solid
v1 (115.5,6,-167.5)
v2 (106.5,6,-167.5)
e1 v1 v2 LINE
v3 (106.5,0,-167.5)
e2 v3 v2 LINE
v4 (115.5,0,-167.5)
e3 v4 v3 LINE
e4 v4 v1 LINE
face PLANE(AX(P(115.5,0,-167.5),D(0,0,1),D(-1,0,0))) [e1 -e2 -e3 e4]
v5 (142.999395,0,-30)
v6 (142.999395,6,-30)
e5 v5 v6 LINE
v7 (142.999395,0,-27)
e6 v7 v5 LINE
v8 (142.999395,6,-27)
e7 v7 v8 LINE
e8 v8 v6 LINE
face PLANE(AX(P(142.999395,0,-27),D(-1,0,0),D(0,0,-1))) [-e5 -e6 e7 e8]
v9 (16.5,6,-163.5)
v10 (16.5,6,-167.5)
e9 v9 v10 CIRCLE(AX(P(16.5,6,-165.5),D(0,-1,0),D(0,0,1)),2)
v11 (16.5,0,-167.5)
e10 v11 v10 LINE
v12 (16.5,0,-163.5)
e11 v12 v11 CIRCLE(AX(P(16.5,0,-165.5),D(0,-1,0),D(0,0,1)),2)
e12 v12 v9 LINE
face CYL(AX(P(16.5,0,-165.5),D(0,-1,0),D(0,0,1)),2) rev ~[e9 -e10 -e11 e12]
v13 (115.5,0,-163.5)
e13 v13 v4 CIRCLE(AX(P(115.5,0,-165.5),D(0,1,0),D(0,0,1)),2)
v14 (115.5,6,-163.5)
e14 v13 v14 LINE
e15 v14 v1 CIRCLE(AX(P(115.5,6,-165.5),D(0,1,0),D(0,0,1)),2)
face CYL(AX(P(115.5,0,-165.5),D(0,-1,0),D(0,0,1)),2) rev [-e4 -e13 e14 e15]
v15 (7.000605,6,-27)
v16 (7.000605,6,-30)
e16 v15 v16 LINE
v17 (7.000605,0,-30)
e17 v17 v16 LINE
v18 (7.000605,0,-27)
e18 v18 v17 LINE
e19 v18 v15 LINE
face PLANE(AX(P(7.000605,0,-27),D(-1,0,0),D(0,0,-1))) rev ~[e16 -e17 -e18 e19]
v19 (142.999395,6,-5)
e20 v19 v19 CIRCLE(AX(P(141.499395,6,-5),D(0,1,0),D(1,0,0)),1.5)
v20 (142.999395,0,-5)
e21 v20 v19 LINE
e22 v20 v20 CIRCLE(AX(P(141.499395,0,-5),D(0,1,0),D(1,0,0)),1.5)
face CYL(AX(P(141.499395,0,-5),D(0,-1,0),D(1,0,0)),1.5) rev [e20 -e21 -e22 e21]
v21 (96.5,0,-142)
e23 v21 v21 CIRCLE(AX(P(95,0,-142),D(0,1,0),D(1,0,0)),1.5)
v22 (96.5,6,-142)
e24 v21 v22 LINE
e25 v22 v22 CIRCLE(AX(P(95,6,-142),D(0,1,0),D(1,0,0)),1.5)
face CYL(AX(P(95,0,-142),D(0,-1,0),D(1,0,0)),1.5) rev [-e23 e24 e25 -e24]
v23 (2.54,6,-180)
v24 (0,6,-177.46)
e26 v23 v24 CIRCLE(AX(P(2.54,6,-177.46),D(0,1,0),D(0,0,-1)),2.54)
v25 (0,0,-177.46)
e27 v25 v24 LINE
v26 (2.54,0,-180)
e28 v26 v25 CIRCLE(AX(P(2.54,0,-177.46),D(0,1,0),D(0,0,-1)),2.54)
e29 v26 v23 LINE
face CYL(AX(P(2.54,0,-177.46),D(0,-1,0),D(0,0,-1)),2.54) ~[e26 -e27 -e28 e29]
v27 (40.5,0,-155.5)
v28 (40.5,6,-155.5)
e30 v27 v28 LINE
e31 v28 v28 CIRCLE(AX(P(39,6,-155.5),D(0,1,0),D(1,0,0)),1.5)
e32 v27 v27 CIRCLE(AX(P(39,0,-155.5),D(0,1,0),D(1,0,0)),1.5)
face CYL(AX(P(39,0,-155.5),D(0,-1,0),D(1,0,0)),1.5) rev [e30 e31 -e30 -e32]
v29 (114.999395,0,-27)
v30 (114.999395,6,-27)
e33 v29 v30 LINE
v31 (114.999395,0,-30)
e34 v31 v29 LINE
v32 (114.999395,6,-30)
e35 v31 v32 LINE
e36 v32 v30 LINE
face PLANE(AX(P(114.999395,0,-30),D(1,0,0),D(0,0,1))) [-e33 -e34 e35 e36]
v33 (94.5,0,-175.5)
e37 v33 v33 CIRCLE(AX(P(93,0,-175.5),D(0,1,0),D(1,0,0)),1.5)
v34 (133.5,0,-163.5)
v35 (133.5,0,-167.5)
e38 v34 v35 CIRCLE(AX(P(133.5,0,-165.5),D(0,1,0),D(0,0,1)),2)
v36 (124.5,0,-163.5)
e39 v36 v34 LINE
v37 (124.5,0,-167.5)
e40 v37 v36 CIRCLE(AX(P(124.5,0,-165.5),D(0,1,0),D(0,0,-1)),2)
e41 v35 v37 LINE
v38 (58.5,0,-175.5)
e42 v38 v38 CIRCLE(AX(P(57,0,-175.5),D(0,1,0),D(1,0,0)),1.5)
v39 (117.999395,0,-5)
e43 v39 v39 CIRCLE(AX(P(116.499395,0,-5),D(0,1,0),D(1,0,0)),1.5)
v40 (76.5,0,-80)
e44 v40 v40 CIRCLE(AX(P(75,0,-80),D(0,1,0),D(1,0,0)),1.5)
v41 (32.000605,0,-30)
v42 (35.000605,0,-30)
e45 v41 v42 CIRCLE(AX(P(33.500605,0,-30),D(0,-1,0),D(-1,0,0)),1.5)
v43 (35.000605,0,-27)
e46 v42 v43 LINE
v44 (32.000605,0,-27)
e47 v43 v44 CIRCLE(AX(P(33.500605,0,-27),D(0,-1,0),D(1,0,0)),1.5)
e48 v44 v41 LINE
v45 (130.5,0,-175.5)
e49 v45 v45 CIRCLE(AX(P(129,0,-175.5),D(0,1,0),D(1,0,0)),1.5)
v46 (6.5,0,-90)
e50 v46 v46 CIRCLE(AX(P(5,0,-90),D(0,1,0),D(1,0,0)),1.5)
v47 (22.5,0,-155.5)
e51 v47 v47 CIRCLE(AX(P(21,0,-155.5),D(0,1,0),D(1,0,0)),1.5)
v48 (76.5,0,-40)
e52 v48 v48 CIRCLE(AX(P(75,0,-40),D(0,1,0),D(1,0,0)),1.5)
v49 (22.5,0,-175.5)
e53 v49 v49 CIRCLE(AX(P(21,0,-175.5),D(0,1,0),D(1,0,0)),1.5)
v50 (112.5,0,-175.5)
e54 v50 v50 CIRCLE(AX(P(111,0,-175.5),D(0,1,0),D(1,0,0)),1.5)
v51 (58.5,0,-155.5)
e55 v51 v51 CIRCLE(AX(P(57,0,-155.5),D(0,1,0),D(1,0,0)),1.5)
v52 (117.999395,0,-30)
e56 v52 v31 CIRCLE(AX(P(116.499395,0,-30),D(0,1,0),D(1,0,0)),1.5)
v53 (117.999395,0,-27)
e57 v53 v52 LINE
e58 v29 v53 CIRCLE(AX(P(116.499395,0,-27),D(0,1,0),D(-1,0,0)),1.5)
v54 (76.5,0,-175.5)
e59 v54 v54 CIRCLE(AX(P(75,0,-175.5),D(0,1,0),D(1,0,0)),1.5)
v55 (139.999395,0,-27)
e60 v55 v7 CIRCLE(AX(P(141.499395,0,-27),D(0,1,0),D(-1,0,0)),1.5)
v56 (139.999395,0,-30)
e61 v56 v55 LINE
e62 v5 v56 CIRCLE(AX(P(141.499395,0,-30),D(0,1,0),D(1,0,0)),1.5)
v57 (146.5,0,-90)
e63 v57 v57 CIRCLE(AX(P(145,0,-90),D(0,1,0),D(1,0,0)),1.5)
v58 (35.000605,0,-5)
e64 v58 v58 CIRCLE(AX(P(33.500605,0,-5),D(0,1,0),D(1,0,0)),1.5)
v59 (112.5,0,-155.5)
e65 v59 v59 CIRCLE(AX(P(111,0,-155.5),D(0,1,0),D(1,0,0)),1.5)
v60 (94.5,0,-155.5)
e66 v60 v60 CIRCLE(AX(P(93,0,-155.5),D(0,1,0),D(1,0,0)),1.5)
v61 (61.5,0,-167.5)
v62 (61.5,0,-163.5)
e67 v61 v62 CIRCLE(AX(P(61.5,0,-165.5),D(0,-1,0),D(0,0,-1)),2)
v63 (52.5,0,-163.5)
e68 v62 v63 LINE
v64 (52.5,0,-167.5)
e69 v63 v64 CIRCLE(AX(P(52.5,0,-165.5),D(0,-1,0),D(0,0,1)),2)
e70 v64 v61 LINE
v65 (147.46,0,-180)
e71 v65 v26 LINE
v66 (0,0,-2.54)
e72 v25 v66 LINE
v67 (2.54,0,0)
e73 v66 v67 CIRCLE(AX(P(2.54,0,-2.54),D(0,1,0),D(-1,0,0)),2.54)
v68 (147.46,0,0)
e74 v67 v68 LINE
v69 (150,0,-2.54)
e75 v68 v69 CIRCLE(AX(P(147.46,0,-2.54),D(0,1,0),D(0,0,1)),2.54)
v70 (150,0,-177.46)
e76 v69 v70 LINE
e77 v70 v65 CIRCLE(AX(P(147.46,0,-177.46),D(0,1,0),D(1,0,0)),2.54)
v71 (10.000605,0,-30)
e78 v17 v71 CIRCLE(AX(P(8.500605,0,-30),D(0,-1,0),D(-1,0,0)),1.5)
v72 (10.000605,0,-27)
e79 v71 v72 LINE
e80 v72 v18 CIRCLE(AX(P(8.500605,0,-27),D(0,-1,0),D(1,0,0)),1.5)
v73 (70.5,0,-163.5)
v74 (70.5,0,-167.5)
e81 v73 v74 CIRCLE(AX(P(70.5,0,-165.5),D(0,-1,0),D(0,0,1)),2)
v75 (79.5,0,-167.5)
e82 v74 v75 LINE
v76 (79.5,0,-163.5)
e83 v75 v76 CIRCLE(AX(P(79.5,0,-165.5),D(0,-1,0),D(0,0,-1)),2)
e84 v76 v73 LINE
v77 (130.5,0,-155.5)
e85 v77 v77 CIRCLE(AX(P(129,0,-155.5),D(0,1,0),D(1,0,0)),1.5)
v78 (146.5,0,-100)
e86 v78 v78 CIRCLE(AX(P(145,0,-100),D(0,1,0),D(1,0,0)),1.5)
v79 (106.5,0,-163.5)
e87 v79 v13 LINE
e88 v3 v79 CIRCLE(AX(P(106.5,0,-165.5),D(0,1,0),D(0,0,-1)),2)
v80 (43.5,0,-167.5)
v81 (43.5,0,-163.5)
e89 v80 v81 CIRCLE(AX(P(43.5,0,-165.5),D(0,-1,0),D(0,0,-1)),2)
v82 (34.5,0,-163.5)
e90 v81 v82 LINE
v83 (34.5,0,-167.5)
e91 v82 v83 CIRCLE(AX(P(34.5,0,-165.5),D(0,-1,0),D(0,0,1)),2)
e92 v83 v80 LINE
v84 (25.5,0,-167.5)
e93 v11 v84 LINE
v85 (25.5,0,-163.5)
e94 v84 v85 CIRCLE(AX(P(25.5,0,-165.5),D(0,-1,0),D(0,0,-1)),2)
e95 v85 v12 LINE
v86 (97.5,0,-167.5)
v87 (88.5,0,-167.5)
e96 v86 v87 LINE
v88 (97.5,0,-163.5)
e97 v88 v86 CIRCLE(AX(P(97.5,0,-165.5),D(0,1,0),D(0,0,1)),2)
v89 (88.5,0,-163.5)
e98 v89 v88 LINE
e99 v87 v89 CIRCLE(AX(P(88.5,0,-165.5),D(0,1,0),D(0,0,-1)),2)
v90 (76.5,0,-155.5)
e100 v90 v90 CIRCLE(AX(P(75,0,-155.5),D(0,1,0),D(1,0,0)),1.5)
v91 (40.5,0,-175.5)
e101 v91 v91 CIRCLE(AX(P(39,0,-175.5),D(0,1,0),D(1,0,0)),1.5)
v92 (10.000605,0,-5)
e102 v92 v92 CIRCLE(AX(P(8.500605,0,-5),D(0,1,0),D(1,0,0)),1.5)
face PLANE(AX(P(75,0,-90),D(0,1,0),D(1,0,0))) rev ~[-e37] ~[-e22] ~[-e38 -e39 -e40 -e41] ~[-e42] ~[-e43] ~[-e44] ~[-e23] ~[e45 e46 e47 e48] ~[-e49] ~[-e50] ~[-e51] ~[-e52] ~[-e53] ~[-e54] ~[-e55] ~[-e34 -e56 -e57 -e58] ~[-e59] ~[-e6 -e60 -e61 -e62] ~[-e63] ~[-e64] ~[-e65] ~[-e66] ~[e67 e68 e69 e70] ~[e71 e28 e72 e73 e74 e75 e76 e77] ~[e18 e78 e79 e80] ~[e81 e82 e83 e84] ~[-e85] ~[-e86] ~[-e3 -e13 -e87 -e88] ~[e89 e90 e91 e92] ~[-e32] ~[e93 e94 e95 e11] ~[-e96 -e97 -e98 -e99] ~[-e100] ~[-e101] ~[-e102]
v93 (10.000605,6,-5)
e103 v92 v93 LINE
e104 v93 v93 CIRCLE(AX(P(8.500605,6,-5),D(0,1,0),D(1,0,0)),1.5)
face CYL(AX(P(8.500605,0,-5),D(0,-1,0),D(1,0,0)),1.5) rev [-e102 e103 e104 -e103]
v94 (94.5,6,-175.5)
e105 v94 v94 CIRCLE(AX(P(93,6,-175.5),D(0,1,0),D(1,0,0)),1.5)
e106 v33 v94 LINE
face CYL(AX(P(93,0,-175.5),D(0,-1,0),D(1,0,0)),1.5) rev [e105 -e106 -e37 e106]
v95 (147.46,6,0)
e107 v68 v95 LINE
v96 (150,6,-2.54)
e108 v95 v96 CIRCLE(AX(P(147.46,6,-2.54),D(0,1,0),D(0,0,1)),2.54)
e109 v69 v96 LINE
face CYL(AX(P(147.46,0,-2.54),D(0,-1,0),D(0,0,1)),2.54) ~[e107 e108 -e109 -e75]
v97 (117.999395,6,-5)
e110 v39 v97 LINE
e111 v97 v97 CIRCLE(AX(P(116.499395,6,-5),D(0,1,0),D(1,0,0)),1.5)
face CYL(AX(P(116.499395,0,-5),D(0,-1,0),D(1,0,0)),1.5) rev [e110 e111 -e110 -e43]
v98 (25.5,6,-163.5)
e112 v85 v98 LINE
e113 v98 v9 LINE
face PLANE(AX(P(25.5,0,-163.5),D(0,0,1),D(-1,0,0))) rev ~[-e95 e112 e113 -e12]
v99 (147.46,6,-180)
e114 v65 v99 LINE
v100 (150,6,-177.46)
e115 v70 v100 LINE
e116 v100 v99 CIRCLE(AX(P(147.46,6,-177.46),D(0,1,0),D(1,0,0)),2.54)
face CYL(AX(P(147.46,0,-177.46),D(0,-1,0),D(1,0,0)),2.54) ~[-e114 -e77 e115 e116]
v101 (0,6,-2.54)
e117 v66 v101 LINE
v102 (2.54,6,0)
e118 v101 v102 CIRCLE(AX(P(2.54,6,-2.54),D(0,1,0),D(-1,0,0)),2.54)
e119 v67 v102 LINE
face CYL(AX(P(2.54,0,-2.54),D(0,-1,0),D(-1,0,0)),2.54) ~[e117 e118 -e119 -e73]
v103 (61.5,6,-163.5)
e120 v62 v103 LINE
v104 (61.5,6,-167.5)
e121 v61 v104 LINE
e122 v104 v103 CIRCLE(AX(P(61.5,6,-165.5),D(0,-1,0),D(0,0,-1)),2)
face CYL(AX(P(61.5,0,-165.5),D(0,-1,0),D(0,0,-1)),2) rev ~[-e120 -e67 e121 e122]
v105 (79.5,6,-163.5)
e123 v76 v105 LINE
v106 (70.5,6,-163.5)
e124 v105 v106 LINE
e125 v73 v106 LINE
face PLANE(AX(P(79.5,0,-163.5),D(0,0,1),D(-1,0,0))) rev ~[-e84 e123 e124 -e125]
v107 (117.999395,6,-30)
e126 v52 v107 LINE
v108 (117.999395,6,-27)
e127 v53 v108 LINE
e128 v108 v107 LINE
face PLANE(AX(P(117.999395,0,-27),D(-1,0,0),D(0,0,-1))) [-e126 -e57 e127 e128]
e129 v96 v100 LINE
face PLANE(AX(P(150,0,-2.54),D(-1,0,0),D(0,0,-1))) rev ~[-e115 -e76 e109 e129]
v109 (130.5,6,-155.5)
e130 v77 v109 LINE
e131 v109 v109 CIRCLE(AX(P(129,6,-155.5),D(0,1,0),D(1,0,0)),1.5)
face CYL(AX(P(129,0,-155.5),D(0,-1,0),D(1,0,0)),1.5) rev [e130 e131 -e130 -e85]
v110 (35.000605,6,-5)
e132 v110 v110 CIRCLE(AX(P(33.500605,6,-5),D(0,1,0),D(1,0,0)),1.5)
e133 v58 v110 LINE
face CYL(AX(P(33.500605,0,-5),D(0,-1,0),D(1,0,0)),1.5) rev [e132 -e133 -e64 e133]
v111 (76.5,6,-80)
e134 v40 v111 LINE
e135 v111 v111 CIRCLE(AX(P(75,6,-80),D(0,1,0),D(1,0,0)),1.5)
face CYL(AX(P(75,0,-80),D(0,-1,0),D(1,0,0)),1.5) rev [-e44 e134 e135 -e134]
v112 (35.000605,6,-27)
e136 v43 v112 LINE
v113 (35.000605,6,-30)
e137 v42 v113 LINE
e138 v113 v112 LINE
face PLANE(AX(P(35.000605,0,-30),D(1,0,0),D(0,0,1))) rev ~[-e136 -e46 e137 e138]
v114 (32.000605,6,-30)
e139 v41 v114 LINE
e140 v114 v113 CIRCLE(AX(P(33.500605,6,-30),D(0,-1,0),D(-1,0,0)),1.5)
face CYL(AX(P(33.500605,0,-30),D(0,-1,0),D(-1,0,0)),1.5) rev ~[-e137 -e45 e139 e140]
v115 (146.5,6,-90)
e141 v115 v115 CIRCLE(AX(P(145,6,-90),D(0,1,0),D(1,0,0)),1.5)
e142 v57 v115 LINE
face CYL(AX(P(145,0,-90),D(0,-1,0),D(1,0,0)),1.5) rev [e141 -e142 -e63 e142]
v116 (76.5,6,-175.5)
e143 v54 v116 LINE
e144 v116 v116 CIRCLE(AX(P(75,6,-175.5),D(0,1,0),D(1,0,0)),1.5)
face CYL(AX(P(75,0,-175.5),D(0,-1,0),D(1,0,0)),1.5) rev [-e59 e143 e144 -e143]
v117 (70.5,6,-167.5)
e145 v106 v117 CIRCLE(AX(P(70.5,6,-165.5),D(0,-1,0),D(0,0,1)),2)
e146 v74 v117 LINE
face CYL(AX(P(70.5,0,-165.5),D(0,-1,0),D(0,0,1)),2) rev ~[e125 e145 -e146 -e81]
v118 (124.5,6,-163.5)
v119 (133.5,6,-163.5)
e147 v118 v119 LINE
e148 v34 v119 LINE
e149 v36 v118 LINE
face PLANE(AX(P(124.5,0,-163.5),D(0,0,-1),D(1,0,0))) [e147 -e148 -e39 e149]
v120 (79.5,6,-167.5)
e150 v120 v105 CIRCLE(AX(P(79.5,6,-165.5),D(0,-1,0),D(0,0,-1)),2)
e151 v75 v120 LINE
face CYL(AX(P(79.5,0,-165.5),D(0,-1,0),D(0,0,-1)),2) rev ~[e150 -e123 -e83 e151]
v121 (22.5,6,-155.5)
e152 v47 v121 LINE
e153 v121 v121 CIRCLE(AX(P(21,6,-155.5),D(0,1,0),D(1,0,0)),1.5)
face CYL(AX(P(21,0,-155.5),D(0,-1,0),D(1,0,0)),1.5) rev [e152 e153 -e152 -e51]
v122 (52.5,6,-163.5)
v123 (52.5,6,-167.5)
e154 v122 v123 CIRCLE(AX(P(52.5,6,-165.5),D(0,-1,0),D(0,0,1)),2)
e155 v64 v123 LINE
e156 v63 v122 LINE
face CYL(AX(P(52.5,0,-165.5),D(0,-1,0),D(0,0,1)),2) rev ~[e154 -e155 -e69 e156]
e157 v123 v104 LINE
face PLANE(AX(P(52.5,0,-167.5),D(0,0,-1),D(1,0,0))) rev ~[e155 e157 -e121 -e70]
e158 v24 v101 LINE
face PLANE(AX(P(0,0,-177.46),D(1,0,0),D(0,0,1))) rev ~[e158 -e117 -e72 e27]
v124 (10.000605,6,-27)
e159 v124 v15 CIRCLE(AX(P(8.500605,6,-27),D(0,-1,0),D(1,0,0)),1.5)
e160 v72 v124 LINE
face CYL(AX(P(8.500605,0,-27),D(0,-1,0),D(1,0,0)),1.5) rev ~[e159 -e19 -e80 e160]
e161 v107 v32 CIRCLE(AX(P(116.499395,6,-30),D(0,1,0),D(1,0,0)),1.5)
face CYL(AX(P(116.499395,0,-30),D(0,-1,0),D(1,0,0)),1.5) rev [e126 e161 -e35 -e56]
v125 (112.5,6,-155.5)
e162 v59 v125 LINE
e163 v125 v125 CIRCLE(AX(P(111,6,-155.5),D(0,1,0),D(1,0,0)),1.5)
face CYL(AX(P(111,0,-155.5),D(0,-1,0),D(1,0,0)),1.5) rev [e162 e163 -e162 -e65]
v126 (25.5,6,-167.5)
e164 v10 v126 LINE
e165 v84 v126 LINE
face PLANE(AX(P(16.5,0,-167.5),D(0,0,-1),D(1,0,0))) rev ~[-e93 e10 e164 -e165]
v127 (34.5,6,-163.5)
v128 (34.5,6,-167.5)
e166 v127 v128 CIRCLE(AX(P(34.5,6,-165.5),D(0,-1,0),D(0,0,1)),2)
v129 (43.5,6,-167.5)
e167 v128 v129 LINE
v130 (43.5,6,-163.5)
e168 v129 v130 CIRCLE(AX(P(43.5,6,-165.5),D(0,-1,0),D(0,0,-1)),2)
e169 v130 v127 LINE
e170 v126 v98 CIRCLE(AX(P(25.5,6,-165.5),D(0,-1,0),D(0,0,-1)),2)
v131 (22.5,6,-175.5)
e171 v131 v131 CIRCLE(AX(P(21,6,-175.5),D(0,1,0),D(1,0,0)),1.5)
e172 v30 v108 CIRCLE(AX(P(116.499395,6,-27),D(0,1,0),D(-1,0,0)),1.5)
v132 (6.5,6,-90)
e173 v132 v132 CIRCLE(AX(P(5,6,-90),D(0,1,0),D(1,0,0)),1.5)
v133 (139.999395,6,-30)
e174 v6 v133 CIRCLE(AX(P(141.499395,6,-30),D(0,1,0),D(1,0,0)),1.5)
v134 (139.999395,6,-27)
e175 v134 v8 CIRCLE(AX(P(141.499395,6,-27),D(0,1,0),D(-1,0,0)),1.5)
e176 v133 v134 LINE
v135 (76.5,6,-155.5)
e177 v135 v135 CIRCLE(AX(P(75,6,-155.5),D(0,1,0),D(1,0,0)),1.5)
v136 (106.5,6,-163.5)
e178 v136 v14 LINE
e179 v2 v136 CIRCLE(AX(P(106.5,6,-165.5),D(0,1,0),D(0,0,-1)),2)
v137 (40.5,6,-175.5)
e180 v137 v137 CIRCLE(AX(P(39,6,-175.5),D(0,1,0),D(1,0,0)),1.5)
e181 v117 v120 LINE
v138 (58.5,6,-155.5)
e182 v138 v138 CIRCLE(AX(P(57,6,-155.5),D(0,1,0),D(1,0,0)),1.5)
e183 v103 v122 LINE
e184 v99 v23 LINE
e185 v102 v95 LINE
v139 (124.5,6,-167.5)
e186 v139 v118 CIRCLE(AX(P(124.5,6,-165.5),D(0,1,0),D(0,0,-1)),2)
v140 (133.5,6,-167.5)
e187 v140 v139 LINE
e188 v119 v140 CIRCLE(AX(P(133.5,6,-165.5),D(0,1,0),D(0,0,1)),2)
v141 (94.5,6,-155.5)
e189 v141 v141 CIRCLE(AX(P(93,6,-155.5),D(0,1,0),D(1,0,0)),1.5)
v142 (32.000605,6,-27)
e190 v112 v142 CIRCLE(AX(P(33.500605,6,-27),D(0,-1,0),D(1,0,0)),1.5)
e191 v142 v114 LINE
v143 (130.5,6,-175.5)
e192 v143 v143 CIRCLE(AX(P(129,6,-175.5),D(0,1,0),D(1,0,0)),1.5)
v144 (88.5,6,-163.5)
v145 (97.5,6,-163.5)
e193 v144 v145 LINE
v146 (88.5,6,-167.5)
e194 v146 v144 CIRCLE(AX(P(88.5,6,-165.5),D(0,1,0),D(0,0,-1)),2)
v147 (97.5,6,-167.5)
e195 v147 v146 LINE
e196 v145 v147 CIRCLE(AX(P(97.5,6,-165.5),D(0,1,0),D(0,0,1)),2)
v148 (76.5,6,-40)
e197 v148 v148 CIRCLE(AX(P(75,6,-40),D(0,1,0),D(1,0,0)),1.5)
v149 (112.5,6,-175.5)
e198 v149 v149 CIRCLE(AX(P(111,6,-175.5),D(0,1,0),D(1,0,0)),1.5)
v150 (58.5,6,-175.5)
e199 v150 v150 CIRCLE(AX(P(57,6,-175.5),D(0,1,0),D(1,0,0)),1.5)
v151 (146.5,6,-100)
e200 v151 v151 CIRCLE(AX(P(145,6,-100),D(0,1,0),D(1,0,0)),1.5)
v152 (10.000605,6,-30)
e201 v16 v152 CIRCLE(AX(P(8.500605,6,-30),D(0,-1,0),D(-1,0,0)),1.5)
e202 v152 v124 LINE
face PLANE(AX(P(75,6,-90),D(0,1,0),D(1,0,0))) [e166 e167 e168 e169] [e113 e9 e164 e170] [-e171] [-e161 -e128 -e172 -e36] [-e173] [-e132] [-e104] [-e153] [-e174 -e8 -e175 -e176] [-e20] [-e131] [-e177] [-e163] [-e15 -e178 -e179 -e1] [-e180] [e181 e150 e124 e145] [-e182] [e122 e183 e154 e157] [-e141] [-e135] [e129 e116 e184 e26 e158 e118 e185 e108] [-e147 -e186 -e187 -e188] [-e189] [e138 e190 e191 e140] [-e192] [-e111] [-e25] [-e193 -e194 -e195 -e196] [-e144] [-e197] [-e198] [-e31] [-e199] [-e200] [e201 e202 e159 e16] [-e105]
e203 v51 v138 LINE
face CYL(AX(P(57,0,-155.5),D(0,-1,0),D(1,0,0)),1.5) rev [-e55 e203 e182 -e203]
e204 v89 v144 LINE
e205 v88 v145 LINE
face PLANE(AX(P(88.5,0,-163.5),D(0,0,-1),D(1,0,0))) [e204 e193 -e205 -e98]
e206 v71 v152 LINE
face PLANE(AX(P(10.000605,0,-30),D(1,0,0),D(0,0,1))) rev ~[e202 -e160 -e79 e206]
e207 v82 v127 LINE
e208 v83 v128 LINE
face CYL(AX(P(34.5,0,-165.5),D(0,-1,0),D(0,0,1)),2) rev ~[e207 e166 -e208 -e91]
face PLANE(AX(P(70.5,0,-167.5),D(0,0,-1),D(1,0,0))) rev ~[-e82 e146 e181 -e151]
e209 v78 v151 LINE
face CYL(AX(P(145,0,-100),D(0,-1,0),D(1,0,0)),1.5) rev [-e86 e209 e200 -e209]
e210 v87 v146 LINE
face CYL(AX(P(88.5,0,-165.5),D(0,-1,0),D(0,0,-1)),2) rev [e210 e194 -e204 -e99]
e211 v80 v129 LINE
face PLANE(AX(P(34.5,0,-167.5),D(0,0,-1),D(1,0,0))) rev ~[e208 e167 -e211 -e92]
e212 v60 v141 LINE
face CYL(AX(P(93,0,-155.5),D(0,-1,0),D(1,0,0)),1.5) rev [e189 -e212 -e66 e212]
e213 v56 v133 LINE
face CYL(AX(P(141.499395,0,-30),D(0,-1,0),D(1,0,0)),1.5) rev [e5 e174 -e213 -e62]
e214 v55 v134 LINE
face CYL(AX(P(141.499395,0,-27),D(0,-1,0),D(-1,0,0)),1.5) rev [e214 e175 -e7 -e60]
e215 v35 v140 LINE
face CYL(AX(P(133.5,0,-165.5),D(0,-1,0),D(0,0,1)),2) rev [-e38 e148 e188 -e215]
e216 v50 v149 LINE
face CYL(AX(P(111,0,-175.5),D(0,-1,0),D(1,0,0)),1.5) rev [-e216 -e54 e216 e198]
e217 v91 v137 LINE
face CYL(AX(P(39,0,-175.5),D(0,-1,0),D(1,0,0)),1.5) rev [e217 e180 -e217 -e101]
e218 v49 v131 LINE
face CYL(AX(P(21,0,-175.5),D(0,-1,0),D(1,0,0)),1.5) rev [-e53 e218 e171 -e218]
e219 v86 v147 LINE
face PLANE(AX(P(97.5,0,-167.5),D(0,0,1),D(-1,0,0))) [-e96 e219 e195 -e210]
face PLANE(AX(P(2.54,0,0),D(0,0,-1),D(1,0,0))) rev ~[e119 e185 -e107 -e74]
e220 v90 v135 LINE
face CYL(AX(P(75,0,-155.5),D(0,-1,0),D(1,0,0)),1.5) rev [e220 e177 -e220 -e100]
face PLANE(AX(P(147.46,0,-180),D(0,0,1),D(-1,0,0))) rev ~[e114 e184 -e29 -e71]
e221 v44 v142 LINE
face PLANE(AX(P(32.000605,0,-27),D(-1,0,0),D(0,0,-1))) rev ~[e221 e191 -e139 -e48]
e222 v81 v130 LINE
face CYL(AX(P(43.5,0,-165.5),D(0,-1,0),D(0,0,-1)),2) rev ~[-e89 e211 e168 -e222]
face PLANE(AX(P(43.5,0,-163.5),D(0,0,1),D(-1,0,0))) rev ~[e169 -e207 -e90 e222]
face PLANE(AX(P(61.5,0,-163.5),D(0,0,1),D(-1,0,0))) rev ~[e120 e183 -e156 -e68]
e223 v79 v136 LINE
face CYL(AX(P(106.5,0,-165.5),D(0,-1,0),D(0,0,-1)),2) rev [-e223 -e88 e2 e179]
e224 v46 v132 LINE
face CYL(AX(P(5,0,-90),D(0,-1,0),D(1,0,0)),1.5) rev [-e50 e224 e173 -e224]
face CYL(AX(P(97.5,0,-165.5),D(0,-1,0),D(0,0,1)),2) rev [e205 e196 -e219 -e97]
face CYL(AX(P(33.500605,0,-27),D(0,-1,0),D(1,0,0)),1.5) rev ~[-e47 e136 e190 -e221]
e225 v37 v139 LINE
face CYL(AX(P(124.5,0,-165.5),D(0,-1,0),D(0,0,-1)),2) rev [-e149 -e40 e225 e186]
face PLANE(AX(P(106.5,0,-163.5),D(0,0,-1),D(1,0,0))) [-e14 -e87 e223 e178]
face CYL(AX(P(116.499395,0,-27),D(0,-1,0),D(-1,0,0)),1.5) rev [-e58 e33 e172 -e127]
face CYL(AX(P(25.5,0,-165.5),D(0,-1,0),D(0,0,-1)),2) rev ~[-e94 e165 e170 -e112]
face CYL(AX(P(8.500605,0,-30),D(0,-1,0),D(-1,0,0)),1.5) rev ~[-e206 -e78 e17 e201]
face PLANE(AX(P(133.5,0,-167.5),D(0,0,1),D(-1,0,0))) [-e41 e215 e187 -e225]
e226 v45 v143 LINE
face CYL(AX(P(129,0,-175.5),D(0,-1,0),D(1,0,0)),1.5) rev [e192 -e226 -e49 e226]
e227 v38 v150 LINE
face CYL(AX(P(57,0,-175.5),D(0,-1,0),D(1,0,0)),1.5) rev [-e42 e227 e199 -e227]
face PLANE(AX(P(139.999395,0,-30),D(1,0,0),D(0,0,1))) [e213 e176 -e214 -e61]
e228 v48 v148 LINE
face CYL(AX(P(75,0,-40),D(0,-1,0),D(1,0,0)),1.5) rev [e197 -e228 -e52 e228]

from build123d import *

# Parameters (mm, degrees)
SKETCH1_R           = 1.5
BOSS_EXTRUDE1_DEPTH = 6


with BuildPart() as part:
    # Sketch1 → Boss-Extrude1 (new body)
    with BuildSketch(Plane(origin=(0, 0, 0), x_dir=(1, 0, 0), z_dir=(0, 1, 0))):
        with BuildLine():
            Line((2.54, 0), (147.46, 0))
            ThreePointArc((147.46, 0), (149.256051224, 0.743948776), (150, 2.54))
            Line((150, 2.54), (150, 177.46))
            ThreePointArc((150, 177.46), (149.256051224, 179.256051224), (147.46, 180))
            Line((147.46, 180), (2.54, 180))
            ThreePointArc((2.54, 180), (0.743948776, 179.256051224), (0, 177.46))
            Line((0, 177.46), (0, 2.54))
            ThreePointArc((0, 2.54), (0.743948776, 0.743948776), (2.54, 0))
        make_face()
        with Locations((33.500605467, 5)):
            Circle(SKETCH1_R, mode=Mode.SUBTRACT)
        with Locations((8.500605467, 5)):
            Circle(SKETCH1_R, mode=Mode.SUBTRACT)
        with Locations((141.499394533, 5)):
            Circle(SKETCH1_R, mode=Mode.SUBTRACT)
        with Locations((116.499394533, 5)):
            Circle(SKETCH1_R, mode=Mode.SUBTRACT)
        with Locations((75, 155.5)):
            Circle(SKETCH1_R, mode=Mode.SUBTRACT)
        with Locations((39, 155.5)):
            Circle(SKETCH1_R, mode=Mode.SUBTRACT)
        with Locations((21, 155.5)):
            Circle(SKETCH1_R, mode=Mode.SUBTRACT)
        with Locations((57, 155.5)):
            Circle(SKETCH1_R, mode=Mode.SUBTRACT)
        with Locations((93, 155.5)):
            Circle(SKETCH1_R, mode=Mode.SUBTRACT)
        with Locations((111, 155.5)):
            Circle(SKETCH1_R, mode=Mode.SUBTRACT)
        with Locations((129, 155.5)):
            Circle(SKETCH1_R, mode=Mode.SUBTRACT)
        with Locations((129, 175.5)):
            Circle(SKETCH1_R, mode=Mode.SUBTRACT)
        with Locations((111, 175.5)):
            Circle(SKETCH1_R, mode=Mode.SUBTRACT)
        with Locations((93, 175.5)):
            Circle(SKETCH1_R, mode=Mode.SUBTRACT)
        with Locations((75, 175.5)):
            Circle(SKETCH1_R, mode=Mode.SUBTRACT)
        with Locations((57, 175.5)):
            Circle(SKETCH1_R, mode=Mode.SUBTRACT)
        with Locations((39, 175.5)):
            Circle(SKETCH1_R, mode=Mode.SUBTRACT)
        with Locations((21, 175.5)):
            Circle(SKETCH1_R, mode=Mode.SUBTRACT)
        with Locations((145, 100)):
            Circle(SKETCH1_R, mode=Mode.SUBTRACT)
        with Locations((95, 142)):
            Circle(SKETCH1_R, mode=Mode.SUBTRACT)
        with Locations((145, 90)):
            Circle(SKETCH1_R, mode=Mode.SUBTRACT)
        with Locations((5, 90)):
            Circle(SKETCH1_R, mode=Mode.SUBTRACT)
        with Locations((75, 80)):
            Circle(SKETCH1_R, mode=Mode.SUBTRACT)
        with Locations((75, 40)):
            Circle(SKETCH1_R, mode=Mode.SUBTRACT)
        with BuildLine():
            Line((133.5, 167.5), (124.5, 167.5))
            ThreePointArc((124.5, 167.5), (122.5, 165.5), (124.5, 163.5))
            Line((124.5, 163.5), (133.5, 163.5))
            ThreePointArc((133.5, 163.5), (135.5, 165.5), (133.5, 167.5))
        make_face(mode=Mode.SUBTRACT)
        with BuildLine():
            Line((16.5, 167.5), (25.5, 167.5))
            ThreePointArc((25.5, 167.5), (27.5, 165.5), (25.5, 163.5))
            Line((25.5, 163.5), (16.5, 163.5))
            ThreePointArc((16.5, 163.5), (14.5, 165.5), (16.5, 167.5))
        make_face(mode=Mode.SUBTRACT)
        with BuildLine():
            Line((34.5, 167.5), (43.5, 167.5))
            ThreePointArc((43.5, 167.5), (45.5, 165.5), (43.5, 163.5))
            Line((43.5, 163.5), (34.5, 163.5))
            ThreePointArc((34.5, 163.5), (32.5, 165.5), (34.5, 167.5))
        make_face(mode=Mode.SUBTRACT)
        with BuildLine():
            Line((52.5, 167.5), (61.5, 167.5))
            ThreePointArc((61.5, 167.5), (63.5, 165.5), (61.5, 163.5))
            Line((61.5, 163.5), (52.5, 163.5))
            ThreePointArc((52.5, 163.5), (50.5, 165.5), (52.5, 167.5))
        make_face(mode=Mode.SUBTRACT)
        with BuildLine():
            Line((70.5, 167.5), (79.5, 167.5))
            ThreePointArc((79.5, 167.5), (81.5, 165.5), (79.5, 163.5))
            Line((79.5, 163.5), (70.5, 163.5))
            ThreePointArc((70.5, 163.5), (68.5, 165.5), (70.5, 167.5))
        make_face(mode=Mode.SUBTRACT)
        with BuildLine():
            Line((115.5, 167.5), (106.5, 167.5))
            ThreePointArc((106.5, 167.5), (104.5, 165.5), (106.5, 163.5))
            Line((106.5, 163.5), (115.5, 163.5))
            ThreePointArc((115.5, 163.5), (117.5, 165.5), (115.5, 167.5))
        make_face(mode=Mode.SUBTRACT)
        with BuildLine():
            Line((97.5, 167.5), (88.5, 167.5))
            ThreePointArc((88.5, 167.5), (86.5, 165.5), (88.5, 163.5))
            Line((88.5, 163.5), (97.5, 163.5))
            ThreePointArc((97.5, 163.5), (99.5, 165.5), (97.5, 167.5))
        make_face(mode=Mode.SUBTRACT)
        with BuildLine():
            Line((10.000605467, 30), (10.000605467, 27))
            ThreePointArc((10.000605467, 27), (8.500605467, 25.5), (7.000605467, 27))
            Line((7.000605467, 27), (7.000605467, 30))
            ThreePointArc((7.000605467, 30), (8.500605467, 31.5), (10.000605467, 30))
        make_face(mode=Mode.SUBTRACT)
        with BuildLine():
            Line((35.000605467, 30), (35.000605467, 27))
            ThreePointArc((35.000605467, 27), (33.500605467, 25.5), (32.000605467, 27))
            Line((32.000605467, 27), (32.000605467, 30))
            ThreePointArc((32.000605467, 30), (33.500605467, 31.5), (35.000605467, 30))
        make_face(mode=Mode.SUBTRACT)
        with BuildLine():
            Line((114.999394533, 30), (114.999394533, 27))
            ThreePointArc((114.999394533, 27), (116.499394533, 25.5), (117.999394533, 27))
            Line((117.999394533, 27), (117.999394533, 30))
            ThreePointArc((117.999394533, 30), (116.499394533, 31.5), (114.999394533, 30))
        make_face(mode=Mode.SUBTRACT)
        with BuildLine():
            Line((139.999394533, 30), (139.999394533, 27))
            ThreePointArc((139.999394533, 27), (141.499394533, 25.5), (142.999394533, 27))
            Line((142.999394533, 27), (142.999394533, 30))
            ThreePointArc((142.999394533, 30), (141.499394533, 31.5), (139.999394533, 30))
        make_face(mode=Mode.SUBTRACT)
    extrude(amount=BOSS_EXTRUDE1_DEPTH)


solid = part.part
